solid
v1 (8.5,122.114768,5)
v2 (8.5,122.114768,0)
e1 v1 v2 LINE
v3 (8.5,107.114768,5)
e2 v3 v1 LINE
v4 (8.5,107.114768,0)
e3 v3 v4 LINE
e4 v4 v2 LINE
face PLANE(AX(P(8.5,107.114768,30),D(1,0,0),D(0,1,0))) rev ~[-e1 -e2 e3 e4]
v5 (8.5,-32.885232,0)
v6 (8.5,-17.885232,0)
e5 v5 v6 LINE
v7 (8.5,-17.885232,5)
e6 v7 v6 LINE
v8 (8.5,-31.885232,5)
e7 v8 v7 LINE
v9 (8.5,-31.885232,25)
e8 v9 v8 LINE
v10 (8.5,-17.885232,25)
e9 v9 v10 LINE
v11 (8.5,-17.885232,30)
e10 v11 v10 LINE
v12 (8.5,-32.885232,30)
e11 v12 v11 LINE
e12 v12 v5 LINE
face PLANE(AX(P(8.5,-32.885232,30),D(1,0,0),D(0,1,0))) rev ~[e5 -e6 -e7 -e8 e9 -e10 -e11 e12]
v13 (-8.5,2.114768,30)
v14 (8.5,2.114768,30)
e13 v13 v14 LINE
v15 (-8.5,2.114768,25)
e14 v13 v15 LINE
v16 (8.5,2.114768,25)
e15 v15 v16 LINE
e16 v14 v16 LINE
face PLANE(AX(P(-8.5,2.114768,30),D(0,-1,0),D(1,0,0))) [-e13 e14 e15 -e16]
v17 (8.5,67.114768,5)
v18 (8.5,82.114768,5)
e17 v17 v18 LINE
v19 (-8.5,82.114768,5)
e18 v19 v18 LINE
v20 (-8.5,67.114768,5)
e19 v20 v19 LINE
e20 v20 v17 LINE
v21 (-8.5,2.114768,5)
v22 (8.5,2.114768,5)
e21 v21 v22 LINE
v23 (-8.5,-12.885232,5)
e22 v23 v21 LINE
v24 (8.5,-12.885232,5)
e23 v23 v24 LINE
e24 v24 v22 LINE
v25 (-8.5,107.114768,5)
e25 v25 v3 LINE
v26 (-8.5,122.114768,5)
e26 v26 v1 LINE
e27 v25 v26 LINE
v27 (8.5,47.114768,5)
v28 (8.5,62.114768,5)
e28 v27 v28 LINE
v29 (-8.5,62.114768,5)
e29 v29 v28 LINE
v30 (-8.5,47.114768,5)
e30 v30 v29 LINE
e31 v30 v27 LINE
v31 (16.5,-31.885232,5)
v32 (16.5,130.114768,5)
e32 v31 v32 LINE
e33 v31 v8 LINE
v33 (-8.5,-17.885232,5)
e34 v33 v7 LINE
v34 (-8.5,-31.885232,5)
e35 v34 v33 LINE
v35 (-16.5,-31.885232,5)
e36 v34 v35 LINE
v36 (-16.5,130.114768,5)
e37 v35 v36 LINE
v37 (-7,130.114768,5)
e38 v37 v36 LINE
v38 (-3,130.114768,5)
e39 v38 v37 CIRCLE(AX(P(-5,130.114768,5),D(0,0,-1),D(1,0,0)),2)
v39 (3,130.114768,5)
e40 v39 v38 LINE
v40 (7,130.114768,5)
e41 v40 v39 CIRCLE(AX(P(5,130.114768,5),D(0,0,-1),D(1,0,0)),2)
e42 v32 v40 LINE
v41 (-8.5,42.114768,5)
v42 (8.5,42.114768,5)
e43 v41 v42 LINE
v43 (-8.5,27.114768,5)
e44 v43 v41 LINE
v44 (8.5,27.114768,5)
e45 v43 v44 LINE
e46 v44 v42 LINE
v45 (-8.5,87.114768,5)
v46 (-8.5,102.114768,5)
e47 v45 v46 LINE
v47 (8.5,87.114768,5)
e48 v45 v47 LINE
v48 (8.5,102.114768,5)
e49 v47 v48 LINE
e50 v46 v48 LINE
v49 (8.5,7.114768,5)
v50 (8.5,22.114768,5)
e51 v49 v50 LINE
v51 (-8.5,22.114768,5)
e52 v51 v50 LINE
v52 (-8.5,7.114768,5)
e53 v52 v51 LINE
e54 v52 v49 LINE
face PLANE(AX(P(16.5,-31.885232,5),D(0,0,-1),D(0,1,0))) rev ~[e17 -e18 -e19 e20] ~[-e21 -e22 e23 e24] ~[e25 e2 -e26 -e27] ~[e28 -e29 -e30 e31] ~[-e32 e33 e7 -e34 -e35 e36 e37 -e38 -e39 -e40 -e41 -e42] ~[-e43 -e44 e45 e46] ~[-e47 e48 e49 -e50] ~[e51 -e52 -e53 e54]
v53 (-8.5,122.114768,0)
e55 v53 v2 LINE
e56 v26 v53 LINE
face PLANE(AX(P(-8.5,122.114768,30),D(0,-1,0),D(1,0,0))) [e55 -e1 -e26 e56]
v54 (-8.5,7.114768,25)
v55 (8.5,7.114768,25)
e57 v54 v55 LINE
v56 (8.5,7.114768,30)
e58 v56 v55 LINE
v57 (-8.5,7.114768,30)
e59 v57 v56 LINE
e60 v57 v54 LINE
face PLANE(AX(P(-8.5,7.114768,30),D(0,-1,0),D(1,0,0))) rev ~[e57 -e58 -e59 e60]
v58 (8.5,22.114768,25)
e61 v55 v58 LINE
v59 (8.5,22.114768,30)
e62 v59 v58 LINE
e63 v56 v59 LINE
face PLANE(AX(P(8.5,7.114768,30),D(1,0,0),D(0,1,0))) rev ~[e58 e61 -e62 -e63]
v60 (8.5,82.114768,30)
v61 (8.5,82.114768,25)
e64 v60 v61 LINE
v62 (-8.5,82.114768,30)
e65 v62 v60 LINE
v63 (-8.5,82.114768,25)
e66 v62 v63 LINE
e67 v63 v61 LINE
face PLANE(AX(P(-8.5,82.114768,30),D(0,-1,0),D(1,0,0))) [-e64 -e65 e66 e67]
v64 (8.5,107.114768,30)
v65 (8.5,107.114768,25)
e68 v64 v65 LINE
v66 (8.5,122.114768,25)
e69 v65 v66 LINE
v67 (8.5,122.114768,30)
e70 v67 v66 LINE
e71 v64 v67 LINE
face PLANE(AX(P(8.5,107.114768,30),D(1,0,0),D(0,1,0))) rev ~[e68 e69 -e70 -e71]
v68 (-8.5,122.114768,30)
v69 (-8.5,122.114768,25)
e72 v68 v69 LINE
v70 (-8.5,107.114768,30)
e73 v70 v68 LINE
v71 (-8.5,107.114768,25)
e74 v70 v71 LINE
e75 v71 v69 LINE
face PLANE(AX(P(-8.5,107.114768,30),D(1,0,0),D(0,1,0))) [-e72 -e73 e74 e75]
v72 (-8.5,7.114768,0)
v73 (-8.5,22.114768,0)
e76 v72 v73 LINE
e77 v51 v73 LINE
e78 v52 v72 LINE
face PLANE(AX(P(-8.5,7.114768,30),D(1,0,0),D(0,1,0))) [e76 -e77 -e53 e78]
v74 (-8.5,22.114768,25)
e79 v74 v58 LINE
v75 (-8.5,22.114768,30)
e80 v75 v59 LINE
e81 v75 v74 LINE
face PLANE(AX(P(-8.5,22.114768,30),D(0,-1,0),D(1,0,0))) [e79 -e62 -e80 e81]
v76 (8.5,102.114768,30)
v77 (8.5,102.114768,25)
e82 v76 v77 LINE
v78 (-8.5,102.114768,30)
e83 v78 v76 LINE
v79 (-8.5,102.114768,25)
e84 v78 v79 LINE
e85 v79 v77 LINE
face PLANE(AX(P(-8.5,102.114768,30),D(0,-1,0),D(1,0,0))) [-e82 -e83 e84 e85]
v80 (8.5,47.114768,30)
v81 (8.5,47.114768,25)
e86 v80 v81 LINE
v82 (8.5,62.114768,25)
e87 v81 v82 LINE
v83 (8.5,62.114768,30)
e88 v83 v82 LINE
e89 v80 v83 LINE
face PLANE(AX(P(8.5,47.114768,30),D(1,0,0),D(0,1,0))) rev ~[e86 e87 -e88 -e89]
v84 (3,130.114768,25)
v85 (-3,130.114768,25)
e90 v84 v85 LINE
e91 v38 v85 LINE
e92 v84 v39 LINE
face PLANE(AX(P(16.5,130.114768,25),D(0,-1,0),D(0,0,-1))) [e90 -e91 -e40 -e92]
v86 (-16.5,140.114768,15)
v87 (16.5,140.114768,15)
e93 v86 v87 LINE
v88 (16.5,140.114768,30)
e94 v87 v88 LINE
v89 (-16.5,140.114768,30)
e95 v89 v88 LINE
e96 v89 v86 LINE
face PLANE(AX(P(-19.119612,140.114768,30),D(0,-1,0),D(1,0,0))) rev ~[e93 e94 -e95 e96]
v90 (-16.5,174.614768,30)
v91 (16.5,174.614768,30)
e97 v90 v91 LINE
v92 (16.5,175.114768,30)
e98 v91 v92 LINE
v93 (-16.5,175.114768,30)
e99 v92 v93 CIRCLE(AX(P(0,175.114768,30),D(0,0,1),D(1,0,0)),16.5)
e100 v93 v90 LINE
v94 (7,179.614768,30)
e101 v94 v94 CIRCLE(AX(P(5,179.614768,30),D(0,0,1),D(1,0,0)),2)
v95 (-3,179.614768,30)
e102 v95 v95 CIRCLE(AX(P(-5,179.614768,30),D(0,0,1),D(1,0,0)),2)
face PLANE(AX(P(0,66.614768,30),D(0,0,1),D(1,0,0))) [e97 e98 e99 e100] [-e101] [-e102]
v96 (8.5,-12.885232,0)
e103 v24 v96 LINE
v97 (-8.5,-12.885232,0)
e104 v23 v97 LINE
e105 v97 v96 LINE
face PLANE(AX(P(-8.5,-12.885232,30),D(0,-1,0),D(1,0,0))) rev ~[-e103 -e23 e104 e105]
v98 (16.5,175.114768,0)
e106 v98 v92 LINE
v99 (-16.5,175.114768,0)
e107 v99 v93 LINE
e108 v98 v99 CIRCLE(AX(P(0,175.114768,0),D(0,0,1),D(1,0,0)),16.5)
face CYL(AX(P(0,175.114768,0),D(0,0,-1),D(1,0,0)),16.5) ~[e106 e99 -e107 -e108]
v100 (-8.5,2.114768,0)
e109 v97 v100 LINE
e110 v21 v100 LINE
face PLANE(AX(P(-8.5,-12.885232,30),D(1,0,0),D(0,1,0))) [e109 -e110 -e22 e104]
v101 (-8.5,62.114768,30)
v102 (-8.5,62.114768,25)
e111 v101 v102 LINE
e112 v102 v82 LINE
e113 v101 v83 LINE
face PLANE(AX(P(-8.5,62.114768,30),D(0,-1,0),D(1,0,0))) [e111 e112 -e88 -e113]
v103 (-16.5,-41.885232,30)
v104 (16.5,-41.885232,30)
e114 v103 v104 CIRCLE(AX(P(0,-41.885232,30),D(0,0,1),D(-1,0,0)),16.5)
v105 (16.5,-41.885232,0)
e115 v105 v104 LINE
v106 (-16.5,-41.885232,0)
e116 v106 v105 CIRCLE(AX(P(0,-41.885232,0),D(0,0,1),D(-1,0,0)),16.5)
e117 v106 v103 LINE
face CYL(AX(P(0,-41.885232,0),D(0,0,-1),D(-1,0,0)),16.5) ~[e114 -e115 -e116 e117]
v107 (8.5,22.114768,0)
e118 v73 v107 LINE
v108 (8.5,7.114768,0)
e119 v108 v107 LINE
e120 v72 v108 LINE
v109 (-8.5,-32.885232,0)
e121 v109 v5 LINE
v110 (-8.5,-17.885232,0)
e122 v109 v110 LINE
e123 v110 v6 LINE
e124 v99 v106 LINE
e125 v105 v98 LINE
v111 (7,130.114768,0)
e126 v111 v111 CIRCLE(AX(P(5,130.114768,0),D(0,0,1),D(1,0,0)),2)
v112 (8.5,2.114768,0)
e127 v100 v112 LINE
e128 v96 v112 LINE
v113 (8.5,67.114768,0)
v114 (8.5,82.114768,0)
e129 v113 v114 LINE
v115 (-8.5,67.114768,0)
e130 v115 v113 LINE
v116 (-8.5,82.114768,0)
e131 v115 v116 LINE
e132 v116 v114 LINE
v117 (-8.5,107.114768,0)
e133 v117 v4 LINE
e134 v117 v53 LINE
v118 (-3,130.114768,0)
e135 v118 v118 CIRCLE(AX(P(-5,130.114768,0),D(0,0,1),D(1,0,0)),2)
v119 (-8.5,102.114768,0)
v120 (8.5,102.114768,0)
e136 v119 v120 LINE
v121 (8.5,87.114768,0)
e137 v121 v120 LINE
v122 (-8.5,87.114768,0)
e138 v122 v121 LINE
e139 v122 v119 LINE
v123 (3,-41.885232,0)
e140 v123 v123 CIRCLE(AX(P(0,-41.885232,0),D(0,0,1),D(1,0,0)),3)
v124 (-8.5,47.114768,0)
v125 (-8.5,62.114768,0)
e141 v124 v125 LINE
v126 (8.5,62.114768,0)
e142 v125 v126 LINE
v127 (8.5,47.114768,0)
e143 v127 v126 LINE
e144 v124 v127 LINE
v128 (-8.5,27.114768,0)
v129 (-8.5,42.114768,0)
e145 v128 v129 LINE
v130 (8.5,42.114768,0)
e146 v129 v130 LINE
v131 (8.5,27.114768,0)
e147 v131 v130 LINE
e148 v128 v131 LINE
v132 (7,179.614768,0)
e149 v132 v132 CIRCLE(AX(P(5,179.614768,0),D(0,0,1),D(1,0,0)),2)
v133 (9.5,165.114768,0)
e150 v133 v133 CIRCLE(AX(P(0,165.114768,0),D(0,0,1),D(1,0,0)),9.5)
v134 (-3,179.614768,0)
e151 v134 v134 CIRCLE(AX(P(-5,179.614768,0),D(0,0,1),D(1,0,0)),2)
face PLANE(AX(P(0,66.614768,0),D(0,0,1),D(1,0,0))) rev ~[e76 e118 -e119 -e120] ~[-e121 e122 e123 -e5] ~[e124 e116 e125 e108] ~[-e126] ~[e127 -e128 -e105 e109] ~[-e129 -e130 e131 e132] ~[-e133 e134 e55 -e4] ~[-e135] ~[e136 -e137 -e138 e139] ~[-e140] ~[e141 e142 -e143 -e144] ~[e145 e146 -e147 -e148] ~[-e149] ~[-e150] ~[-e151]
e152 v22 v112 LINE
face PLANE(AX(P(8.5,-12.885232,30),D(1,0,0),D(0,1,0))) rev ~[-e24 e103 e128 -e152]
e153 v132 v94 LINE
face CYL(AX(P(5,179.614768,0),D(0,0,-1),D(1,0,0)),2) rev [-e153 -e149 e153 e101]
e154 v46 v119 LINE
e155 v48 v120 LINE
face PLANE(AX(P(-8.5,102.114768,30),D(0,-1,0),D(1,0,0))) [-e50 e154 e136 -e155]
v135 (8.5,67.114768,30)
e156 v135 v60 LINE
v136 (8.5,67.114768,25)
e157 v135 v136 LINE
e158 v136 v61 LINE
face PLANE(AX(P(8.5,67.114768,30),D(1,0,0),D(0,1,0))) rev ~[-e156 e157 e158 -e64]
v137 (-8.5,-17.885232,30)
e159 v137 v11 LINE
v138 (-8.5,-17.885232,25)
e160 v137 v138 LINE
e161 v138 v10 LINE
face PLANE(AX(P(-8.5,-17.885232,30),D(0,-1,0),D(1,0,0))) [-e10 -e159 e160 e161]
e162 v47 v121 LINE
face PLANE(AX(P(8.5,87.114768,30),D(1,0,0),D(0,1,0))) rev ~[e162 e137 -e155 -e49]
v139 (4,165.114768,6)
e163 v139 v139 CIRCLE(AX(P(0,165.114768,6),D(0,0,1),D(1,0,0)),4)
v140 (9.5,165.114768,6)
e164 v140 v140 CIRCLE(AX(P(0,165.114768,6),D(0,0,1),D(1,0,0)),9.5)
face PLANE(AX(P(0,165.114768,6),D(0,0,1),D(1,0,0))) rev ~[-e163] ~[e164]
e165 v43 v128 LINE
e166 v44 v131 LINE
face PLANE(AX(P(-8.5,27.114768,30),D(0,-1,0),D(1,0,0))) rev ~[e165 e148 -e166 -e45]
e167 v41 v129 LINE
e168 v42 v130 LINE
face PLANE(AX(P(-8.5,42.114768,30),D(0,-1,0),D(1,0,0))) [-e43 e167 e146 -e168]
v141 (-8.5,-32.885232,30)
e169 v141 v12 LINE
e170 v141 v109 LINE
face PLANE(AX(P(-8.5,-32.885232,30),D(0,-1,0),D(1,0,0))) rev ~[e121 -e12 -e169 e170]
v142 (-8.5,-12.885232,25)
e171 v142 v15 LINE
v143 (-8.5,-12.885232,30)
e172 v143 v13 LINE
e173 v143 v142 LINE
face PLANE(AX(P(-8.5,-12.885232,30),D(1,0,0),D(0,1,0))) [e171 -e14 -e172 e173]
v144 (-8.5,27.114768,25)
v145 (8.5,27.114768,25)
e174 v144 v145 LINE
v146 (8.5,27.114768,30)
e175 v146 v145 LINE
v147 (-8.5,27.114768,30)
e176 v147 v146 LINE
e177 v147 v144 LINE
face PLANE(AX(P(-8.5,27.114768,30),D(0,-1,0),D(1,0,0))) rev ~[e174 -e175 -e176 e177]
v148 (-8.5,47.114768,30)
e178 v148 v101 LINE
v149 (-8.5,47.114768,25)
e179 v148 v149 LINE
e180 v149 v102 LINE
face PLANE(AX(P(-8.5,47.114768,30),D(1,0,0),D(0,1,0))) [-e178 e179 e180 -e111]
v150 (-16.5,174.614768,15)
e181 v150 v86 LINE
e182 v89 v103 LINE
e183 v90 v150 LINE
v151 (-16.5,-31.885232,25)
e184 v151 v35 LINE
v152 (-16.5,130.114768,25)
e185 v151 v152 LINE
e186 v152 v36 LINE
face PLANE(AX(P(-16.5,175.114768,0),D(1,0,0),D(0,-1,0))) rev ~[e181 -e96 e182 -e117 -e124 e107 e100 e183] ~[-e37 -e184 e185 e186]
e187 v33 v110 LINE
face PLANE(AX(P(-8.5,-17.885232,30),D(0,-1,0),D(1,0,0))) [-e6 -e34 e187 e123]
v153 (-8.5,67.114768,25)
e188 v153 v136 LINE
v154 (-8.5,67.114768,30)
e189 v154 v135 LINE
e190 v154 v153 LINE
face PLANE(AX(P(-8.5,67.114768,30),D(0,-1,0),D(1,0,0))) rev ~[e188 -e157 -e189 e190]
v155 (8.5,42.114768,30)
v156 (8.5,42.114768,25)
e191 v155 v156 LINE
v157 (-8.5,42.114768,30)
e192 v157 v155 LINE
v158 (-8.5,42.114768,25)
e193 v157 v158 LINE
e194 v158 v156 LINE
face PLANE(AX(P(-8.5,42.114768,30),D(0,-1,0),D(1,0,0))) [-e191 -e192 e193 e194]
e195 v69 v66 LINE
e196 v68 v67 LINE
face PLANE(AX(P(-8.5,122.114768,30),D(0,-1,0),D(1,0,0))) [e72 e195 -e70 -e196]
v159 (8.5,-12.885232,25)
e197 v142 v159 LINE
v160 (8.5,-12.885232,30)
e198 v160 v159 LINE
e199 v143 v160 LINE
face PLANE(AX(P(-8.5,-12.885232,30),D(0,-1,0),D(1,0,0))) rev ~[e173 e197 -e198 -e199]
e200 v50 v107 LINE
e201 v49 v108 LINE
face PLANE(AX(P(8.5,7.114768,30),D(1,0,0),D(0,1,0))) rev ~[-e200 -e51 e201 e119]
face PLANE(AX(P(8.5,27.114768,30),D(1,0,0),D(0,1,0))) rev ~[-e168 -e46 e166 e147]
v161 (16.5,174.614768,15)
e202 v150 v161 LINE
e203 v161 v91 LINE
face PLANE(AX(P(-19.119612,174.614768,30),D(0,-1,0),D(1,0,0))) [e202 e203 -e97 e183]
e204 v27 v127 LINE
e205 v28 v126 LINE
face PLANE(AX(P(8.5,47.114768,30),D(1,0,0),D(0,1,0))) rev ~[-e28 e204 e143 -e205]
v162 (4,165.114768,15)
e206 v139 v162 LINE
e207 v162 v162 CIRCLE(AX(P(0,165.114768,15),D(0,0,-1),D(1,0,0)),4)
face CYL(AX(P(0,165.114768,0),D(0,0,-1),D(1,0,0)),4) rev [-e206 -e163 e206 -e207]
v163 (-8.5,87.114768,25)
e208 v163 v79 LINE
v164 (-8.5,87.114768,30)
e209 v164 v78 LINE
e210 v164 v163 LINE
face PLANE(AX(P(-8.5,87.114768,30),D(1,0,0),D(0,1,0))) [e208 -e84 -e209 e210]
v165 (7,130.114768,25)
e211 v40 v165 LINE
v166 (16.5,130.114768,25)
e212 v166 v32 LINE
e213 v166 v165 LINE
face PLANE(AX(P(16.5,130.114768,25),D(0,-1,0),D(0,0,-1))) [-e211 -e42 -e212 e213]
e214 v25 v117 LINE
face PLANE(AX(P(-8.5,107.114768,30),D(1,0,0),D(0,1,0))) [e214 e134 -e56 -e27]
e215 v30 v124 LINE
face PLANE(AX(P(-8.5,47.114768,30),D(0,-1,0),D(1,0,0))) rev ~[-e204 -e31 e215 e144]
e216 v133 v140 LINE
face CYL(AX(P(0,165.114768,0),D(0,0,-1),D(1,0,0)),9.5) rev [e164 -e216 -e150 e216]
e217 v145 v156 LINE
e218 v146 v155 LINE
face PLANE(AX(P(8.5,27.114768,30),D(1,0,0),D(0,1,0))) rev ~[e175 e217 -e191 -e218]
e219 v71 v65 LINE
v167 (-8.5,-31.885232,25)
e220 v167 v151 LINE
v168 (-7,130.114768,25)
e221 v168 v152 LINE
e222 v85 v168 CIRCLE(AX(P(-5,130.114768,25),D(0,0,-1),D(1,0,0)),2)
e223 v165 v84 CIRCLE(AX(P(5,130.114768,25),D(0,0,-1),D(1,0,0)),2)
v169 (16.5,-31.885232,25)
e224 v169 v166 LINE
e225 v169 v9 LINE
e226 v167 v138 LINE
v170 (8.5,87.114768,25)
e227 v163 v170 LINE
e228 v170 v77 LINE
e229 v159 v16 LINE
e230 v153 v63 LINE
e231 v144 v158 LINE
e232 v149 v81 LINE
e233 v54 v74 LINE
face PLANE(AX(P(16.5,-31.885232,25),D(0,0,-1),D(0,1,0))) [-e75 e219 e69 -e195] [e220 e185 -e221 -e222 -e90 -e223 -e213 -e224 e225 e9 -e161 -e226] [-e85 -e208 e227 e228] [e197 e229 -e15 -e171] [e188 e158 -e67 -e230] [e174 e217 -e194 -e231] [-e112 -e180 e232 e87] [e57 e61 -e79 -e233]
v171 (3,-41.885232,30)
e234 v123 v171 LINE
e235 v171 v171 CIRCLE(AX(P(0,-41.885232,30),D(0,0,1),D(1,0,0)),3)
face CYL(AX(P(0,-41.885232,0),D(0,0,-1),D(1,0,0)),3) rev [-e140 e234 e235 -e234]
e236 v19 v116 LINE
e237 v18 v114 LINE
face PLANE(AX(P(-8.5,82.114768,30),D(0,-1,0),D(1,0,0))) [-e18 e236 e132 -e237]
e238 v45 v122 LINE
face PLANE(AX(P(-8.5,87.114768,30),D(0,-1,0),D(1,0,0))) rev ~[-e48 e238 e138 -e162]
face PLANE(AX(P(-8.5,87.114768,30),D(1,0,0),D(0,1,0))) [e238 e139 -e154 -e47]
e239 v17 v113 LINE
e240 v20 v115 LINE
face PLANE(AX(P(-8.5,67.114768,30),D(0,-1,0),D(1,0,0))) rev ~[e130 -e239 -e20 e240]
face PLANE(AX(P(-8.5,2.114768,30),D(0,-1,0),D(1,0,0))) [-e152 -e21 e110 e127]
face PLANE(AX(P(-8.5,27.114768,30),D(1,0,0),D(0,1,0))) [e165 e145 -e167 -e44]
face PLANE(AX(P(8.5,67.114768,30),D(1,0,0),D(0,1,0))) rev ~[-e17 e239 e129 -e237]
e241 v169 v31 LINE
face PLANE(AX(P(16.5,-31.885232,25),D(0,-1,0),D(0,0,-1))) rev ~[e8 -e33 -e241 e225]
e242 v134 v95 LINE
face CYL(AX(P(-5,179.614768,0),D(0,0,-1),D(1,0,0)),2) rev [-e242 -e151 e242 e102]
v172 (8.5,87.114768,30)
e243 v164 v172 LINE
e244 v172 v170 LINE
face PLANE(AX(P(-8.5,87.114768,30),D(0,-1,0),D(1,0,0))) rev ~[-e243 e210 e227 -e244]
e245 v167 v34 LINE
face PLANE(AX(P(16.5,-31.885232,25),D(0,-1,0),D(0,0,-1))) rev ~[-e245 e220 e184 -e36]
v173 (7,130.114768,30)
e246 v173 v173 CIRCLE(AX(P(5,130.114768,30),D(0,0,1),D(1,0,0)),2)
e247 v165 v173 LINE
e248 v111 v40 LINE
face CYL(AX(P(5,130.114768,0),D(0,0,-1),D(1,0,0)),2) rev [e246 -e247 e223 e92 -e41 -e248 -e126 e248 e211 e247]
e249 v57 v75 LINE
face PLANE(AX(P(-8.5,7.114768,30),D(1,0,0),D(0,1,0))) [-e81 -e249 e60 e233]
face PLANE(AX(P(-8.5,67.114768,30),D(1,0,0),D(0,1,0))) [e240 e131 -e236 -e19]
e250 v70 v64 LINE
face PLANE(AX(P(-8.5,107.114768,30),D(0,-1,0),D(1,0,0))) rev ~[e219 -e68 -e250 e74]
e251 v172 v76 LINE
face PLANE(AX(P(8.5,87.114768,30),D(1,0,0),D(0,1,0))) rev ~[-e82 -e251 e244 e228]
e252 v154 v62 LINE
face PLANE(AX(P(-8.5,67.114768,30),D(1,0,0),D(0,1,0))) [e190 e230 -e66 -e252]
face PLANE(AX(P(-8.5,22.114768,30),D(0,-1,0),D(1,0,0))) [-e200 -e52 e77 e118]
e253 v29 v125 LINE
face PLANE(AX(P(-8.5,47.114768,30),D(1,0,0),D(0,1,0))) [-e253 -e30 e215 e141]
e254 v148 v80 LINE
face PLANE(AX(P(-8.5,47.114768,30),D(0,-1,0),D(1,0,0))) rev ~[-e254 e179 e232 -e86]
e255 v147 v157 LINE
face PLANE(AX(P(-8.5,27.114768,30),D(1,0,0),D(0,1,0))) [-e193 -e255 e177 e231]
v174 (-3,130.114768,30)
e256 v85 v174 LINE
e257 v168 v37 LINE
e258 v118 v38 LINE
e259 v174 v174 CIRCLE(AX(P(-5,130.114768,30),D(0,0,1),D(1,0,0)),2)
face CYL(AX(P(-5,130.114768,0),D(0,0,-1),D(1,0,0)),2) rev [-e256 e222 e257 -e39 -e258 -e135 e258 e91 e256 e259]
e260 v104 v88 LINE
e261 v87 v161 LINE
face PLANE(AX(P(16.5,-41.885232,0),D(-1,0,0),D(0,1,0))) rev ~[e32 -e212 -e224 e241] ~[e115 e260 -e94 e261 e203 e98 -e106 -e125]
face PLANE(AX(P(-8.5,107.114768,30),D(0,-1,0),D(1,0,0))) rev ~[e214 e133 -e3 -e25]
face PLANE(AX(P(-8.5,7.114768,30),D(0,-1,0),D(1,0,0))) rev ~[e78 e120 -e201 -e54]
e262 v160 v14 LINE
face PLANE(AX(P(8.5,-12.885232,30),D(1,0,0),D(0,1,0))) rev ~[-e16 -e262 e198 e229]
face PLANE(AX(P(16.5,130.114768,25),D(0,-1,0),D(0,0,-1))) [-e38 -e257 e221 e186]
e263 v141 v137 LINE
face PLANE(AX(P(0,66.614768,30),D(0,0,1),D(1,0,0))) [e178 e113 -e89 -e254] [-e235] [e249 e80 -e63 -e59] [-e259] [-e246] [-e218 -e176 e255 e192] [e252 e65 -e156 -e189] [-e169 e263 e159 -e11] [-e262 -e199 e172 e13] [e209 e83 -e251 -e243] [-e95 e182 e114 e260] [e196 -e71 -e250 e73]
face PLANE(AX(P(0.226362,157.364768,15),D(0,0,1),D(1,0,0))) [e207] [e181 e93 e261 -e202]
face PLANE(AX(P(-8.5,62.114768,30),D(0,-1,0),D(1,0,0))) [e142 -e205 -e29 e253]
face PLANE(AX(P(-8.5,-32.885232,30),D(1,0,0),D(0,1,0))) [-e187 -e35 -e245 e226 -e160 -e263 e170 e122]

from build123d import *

# Parameters (mm, degrees)
SKETCH1_R           = 3
SKETCH1_R_2         = 2
BOSS_EXTRUDE2_DEPTH = 30
SKETCH1_4_R         = 4
CUT_EXTRUDE1_DEPTH  = 39
SKETCH1_5_R         = 9.5
SKETCH1_5_R_2       = 4
CUT_EXTRUDE2_DEPTH  = 6
SKETCH3_W           = 38.691948064
SKETCH3_H           = 34.5
CUT_EXTRUDE5_DEPTH  = 15
SKETCH4_W           = 17
SKETCH4_H           = 15
CUT_EXTRUDE6_DEPTH  = 33
SKETCH6_W           = 20
SKETCH6_H           = 162
CUT_EXTRUDE7_DEPTH  = 33


with BuildPart() as part:
    # Sketch1 → Boss-Extrude2 (new body)
    with BuildSketch(Plane.XY):
        with BuildLine():
            Line((-16.5, 175.114767993), (-16.5, -41.885232007))
            ThreePointArc((-16.5, -41.885232007), (0, -58.385232007), (16.5, -41.885232007))
            Line((16.5, -41.885232007), (16.5, 175.114767993))
            ThreePointArc((16.5, 175.114767993), (0, 191.614767993), (-16.5, 175.114767993))
        make_face()
        with Locations((0, -41.885232007)):
            Circle(SKETCH1_R, mode=Mode.SUBTRACT)
        with Locations((-5, 130.114767993)):
            Circle(SKETCH1_R_2, mode=Mode.SUBTRACT)
        with Locations((-5, 179.614767993)):
            Circle(SKETCH1_R_2, mode=Mode.SUBTRACT)
        with Locations((5, 130.114767993)):
            Circle(SKETCH1_R_2, mode=Mode.SUBTRACT)
        with Locations((5, 179.614767993)):
            Circle(SKETCH1_R_2, mode=Mode.SUBTRACT)
    extrude(amount=BOSS_EXTRUDE2_DEPTH)

    # Sketch1<4> → Cut-Extrude1 (cut)
    with BuildSketch(Plane.XY):
        with Locations((0, 165.114767993)):
            Circle(SKETCH1_4_R)
    extrude(amount=CUT_EXTRUDE1_DEPTH, mode=Mode.SUBTRACT)

    # Sketch1<5> → Cut-Extrude2 (cut)
    with BuildSketch(Plane.XY):
        with Locations((0, 165.114767993)):
            Circle(SKETCH1_5_R)
        with Locations((0, 165.114767993)):
            Circle(SKETCH1_5_R_2, mode=Mode.SUBTRACT)
    extrude(amount=CUT_EXTRUDE2_DEPTH, mode=Mode.SUBTRACT)

    # Sketch3 → Cut-Extrude5 (cut)
    with BuildSketch(Plane.XY.offset(30)):
        with Locations((0.226361627, 157.364767993)):
            Rectangle(SKETCH3_W, SKETCH3_H)
    extrude(amount=-CUT_EXTRUDE5_DEPTH, mode=Mode.SUBTRACT)

    # Sketch4 → Cut-Extrude6 (cut)
    with BuildSketch(Plane.XY.offset(30)):
        with Locations((0, 114.614767993)):
            Rectangle(SKETCH4_W, SKETCH4_H)
        with Locations((0, 94.614767993)):
            Rectangle(SKETCH4_W, SKETCH4_H)
        with Locations((0, 74.614767993)):
            Rectangle(SKETCH4_W, SKETCH4_H)
        with Locations((0, 54.614767993)):
            Rectangle(SKETCH4_W, SKETCH4_H)
        with Locations((0, 34.614767993)):
            Rectangle(SKETCH4_W, SKETCH4_H)
        with Locations((0, 14.614767993)):
            Rectangle(SKETCH4_W, SKETCH4_H)
        with Locations((0, -5.385232007)):
            Rectangle(SKETCH4_W, SKETCH4_H)
        with Locations((0, -25.385232007)):
            Rectangle(SKETCH4_W, SKETCH4_H)
    extrude(amount=-CUT_EXTRUDE6_DEPTH, mode=Mode.SUBTRACT)

    # Sketch6 → Cut-Extrude7 (cut)
    with BuildSketch(Plane(origin=(16.5, 0, 0), x_dir=(0, 0, -1), z_dir=(1, 0, 0))):
        with Locations((-15, 49.114767993)):
            Rectangle(SKETCH6_W, SKETCH6_H)
    extrude(amount=-CUT_EXTRUDE7_DEPTH, mode=Mode.SUBTRACT)


solid = part.part
